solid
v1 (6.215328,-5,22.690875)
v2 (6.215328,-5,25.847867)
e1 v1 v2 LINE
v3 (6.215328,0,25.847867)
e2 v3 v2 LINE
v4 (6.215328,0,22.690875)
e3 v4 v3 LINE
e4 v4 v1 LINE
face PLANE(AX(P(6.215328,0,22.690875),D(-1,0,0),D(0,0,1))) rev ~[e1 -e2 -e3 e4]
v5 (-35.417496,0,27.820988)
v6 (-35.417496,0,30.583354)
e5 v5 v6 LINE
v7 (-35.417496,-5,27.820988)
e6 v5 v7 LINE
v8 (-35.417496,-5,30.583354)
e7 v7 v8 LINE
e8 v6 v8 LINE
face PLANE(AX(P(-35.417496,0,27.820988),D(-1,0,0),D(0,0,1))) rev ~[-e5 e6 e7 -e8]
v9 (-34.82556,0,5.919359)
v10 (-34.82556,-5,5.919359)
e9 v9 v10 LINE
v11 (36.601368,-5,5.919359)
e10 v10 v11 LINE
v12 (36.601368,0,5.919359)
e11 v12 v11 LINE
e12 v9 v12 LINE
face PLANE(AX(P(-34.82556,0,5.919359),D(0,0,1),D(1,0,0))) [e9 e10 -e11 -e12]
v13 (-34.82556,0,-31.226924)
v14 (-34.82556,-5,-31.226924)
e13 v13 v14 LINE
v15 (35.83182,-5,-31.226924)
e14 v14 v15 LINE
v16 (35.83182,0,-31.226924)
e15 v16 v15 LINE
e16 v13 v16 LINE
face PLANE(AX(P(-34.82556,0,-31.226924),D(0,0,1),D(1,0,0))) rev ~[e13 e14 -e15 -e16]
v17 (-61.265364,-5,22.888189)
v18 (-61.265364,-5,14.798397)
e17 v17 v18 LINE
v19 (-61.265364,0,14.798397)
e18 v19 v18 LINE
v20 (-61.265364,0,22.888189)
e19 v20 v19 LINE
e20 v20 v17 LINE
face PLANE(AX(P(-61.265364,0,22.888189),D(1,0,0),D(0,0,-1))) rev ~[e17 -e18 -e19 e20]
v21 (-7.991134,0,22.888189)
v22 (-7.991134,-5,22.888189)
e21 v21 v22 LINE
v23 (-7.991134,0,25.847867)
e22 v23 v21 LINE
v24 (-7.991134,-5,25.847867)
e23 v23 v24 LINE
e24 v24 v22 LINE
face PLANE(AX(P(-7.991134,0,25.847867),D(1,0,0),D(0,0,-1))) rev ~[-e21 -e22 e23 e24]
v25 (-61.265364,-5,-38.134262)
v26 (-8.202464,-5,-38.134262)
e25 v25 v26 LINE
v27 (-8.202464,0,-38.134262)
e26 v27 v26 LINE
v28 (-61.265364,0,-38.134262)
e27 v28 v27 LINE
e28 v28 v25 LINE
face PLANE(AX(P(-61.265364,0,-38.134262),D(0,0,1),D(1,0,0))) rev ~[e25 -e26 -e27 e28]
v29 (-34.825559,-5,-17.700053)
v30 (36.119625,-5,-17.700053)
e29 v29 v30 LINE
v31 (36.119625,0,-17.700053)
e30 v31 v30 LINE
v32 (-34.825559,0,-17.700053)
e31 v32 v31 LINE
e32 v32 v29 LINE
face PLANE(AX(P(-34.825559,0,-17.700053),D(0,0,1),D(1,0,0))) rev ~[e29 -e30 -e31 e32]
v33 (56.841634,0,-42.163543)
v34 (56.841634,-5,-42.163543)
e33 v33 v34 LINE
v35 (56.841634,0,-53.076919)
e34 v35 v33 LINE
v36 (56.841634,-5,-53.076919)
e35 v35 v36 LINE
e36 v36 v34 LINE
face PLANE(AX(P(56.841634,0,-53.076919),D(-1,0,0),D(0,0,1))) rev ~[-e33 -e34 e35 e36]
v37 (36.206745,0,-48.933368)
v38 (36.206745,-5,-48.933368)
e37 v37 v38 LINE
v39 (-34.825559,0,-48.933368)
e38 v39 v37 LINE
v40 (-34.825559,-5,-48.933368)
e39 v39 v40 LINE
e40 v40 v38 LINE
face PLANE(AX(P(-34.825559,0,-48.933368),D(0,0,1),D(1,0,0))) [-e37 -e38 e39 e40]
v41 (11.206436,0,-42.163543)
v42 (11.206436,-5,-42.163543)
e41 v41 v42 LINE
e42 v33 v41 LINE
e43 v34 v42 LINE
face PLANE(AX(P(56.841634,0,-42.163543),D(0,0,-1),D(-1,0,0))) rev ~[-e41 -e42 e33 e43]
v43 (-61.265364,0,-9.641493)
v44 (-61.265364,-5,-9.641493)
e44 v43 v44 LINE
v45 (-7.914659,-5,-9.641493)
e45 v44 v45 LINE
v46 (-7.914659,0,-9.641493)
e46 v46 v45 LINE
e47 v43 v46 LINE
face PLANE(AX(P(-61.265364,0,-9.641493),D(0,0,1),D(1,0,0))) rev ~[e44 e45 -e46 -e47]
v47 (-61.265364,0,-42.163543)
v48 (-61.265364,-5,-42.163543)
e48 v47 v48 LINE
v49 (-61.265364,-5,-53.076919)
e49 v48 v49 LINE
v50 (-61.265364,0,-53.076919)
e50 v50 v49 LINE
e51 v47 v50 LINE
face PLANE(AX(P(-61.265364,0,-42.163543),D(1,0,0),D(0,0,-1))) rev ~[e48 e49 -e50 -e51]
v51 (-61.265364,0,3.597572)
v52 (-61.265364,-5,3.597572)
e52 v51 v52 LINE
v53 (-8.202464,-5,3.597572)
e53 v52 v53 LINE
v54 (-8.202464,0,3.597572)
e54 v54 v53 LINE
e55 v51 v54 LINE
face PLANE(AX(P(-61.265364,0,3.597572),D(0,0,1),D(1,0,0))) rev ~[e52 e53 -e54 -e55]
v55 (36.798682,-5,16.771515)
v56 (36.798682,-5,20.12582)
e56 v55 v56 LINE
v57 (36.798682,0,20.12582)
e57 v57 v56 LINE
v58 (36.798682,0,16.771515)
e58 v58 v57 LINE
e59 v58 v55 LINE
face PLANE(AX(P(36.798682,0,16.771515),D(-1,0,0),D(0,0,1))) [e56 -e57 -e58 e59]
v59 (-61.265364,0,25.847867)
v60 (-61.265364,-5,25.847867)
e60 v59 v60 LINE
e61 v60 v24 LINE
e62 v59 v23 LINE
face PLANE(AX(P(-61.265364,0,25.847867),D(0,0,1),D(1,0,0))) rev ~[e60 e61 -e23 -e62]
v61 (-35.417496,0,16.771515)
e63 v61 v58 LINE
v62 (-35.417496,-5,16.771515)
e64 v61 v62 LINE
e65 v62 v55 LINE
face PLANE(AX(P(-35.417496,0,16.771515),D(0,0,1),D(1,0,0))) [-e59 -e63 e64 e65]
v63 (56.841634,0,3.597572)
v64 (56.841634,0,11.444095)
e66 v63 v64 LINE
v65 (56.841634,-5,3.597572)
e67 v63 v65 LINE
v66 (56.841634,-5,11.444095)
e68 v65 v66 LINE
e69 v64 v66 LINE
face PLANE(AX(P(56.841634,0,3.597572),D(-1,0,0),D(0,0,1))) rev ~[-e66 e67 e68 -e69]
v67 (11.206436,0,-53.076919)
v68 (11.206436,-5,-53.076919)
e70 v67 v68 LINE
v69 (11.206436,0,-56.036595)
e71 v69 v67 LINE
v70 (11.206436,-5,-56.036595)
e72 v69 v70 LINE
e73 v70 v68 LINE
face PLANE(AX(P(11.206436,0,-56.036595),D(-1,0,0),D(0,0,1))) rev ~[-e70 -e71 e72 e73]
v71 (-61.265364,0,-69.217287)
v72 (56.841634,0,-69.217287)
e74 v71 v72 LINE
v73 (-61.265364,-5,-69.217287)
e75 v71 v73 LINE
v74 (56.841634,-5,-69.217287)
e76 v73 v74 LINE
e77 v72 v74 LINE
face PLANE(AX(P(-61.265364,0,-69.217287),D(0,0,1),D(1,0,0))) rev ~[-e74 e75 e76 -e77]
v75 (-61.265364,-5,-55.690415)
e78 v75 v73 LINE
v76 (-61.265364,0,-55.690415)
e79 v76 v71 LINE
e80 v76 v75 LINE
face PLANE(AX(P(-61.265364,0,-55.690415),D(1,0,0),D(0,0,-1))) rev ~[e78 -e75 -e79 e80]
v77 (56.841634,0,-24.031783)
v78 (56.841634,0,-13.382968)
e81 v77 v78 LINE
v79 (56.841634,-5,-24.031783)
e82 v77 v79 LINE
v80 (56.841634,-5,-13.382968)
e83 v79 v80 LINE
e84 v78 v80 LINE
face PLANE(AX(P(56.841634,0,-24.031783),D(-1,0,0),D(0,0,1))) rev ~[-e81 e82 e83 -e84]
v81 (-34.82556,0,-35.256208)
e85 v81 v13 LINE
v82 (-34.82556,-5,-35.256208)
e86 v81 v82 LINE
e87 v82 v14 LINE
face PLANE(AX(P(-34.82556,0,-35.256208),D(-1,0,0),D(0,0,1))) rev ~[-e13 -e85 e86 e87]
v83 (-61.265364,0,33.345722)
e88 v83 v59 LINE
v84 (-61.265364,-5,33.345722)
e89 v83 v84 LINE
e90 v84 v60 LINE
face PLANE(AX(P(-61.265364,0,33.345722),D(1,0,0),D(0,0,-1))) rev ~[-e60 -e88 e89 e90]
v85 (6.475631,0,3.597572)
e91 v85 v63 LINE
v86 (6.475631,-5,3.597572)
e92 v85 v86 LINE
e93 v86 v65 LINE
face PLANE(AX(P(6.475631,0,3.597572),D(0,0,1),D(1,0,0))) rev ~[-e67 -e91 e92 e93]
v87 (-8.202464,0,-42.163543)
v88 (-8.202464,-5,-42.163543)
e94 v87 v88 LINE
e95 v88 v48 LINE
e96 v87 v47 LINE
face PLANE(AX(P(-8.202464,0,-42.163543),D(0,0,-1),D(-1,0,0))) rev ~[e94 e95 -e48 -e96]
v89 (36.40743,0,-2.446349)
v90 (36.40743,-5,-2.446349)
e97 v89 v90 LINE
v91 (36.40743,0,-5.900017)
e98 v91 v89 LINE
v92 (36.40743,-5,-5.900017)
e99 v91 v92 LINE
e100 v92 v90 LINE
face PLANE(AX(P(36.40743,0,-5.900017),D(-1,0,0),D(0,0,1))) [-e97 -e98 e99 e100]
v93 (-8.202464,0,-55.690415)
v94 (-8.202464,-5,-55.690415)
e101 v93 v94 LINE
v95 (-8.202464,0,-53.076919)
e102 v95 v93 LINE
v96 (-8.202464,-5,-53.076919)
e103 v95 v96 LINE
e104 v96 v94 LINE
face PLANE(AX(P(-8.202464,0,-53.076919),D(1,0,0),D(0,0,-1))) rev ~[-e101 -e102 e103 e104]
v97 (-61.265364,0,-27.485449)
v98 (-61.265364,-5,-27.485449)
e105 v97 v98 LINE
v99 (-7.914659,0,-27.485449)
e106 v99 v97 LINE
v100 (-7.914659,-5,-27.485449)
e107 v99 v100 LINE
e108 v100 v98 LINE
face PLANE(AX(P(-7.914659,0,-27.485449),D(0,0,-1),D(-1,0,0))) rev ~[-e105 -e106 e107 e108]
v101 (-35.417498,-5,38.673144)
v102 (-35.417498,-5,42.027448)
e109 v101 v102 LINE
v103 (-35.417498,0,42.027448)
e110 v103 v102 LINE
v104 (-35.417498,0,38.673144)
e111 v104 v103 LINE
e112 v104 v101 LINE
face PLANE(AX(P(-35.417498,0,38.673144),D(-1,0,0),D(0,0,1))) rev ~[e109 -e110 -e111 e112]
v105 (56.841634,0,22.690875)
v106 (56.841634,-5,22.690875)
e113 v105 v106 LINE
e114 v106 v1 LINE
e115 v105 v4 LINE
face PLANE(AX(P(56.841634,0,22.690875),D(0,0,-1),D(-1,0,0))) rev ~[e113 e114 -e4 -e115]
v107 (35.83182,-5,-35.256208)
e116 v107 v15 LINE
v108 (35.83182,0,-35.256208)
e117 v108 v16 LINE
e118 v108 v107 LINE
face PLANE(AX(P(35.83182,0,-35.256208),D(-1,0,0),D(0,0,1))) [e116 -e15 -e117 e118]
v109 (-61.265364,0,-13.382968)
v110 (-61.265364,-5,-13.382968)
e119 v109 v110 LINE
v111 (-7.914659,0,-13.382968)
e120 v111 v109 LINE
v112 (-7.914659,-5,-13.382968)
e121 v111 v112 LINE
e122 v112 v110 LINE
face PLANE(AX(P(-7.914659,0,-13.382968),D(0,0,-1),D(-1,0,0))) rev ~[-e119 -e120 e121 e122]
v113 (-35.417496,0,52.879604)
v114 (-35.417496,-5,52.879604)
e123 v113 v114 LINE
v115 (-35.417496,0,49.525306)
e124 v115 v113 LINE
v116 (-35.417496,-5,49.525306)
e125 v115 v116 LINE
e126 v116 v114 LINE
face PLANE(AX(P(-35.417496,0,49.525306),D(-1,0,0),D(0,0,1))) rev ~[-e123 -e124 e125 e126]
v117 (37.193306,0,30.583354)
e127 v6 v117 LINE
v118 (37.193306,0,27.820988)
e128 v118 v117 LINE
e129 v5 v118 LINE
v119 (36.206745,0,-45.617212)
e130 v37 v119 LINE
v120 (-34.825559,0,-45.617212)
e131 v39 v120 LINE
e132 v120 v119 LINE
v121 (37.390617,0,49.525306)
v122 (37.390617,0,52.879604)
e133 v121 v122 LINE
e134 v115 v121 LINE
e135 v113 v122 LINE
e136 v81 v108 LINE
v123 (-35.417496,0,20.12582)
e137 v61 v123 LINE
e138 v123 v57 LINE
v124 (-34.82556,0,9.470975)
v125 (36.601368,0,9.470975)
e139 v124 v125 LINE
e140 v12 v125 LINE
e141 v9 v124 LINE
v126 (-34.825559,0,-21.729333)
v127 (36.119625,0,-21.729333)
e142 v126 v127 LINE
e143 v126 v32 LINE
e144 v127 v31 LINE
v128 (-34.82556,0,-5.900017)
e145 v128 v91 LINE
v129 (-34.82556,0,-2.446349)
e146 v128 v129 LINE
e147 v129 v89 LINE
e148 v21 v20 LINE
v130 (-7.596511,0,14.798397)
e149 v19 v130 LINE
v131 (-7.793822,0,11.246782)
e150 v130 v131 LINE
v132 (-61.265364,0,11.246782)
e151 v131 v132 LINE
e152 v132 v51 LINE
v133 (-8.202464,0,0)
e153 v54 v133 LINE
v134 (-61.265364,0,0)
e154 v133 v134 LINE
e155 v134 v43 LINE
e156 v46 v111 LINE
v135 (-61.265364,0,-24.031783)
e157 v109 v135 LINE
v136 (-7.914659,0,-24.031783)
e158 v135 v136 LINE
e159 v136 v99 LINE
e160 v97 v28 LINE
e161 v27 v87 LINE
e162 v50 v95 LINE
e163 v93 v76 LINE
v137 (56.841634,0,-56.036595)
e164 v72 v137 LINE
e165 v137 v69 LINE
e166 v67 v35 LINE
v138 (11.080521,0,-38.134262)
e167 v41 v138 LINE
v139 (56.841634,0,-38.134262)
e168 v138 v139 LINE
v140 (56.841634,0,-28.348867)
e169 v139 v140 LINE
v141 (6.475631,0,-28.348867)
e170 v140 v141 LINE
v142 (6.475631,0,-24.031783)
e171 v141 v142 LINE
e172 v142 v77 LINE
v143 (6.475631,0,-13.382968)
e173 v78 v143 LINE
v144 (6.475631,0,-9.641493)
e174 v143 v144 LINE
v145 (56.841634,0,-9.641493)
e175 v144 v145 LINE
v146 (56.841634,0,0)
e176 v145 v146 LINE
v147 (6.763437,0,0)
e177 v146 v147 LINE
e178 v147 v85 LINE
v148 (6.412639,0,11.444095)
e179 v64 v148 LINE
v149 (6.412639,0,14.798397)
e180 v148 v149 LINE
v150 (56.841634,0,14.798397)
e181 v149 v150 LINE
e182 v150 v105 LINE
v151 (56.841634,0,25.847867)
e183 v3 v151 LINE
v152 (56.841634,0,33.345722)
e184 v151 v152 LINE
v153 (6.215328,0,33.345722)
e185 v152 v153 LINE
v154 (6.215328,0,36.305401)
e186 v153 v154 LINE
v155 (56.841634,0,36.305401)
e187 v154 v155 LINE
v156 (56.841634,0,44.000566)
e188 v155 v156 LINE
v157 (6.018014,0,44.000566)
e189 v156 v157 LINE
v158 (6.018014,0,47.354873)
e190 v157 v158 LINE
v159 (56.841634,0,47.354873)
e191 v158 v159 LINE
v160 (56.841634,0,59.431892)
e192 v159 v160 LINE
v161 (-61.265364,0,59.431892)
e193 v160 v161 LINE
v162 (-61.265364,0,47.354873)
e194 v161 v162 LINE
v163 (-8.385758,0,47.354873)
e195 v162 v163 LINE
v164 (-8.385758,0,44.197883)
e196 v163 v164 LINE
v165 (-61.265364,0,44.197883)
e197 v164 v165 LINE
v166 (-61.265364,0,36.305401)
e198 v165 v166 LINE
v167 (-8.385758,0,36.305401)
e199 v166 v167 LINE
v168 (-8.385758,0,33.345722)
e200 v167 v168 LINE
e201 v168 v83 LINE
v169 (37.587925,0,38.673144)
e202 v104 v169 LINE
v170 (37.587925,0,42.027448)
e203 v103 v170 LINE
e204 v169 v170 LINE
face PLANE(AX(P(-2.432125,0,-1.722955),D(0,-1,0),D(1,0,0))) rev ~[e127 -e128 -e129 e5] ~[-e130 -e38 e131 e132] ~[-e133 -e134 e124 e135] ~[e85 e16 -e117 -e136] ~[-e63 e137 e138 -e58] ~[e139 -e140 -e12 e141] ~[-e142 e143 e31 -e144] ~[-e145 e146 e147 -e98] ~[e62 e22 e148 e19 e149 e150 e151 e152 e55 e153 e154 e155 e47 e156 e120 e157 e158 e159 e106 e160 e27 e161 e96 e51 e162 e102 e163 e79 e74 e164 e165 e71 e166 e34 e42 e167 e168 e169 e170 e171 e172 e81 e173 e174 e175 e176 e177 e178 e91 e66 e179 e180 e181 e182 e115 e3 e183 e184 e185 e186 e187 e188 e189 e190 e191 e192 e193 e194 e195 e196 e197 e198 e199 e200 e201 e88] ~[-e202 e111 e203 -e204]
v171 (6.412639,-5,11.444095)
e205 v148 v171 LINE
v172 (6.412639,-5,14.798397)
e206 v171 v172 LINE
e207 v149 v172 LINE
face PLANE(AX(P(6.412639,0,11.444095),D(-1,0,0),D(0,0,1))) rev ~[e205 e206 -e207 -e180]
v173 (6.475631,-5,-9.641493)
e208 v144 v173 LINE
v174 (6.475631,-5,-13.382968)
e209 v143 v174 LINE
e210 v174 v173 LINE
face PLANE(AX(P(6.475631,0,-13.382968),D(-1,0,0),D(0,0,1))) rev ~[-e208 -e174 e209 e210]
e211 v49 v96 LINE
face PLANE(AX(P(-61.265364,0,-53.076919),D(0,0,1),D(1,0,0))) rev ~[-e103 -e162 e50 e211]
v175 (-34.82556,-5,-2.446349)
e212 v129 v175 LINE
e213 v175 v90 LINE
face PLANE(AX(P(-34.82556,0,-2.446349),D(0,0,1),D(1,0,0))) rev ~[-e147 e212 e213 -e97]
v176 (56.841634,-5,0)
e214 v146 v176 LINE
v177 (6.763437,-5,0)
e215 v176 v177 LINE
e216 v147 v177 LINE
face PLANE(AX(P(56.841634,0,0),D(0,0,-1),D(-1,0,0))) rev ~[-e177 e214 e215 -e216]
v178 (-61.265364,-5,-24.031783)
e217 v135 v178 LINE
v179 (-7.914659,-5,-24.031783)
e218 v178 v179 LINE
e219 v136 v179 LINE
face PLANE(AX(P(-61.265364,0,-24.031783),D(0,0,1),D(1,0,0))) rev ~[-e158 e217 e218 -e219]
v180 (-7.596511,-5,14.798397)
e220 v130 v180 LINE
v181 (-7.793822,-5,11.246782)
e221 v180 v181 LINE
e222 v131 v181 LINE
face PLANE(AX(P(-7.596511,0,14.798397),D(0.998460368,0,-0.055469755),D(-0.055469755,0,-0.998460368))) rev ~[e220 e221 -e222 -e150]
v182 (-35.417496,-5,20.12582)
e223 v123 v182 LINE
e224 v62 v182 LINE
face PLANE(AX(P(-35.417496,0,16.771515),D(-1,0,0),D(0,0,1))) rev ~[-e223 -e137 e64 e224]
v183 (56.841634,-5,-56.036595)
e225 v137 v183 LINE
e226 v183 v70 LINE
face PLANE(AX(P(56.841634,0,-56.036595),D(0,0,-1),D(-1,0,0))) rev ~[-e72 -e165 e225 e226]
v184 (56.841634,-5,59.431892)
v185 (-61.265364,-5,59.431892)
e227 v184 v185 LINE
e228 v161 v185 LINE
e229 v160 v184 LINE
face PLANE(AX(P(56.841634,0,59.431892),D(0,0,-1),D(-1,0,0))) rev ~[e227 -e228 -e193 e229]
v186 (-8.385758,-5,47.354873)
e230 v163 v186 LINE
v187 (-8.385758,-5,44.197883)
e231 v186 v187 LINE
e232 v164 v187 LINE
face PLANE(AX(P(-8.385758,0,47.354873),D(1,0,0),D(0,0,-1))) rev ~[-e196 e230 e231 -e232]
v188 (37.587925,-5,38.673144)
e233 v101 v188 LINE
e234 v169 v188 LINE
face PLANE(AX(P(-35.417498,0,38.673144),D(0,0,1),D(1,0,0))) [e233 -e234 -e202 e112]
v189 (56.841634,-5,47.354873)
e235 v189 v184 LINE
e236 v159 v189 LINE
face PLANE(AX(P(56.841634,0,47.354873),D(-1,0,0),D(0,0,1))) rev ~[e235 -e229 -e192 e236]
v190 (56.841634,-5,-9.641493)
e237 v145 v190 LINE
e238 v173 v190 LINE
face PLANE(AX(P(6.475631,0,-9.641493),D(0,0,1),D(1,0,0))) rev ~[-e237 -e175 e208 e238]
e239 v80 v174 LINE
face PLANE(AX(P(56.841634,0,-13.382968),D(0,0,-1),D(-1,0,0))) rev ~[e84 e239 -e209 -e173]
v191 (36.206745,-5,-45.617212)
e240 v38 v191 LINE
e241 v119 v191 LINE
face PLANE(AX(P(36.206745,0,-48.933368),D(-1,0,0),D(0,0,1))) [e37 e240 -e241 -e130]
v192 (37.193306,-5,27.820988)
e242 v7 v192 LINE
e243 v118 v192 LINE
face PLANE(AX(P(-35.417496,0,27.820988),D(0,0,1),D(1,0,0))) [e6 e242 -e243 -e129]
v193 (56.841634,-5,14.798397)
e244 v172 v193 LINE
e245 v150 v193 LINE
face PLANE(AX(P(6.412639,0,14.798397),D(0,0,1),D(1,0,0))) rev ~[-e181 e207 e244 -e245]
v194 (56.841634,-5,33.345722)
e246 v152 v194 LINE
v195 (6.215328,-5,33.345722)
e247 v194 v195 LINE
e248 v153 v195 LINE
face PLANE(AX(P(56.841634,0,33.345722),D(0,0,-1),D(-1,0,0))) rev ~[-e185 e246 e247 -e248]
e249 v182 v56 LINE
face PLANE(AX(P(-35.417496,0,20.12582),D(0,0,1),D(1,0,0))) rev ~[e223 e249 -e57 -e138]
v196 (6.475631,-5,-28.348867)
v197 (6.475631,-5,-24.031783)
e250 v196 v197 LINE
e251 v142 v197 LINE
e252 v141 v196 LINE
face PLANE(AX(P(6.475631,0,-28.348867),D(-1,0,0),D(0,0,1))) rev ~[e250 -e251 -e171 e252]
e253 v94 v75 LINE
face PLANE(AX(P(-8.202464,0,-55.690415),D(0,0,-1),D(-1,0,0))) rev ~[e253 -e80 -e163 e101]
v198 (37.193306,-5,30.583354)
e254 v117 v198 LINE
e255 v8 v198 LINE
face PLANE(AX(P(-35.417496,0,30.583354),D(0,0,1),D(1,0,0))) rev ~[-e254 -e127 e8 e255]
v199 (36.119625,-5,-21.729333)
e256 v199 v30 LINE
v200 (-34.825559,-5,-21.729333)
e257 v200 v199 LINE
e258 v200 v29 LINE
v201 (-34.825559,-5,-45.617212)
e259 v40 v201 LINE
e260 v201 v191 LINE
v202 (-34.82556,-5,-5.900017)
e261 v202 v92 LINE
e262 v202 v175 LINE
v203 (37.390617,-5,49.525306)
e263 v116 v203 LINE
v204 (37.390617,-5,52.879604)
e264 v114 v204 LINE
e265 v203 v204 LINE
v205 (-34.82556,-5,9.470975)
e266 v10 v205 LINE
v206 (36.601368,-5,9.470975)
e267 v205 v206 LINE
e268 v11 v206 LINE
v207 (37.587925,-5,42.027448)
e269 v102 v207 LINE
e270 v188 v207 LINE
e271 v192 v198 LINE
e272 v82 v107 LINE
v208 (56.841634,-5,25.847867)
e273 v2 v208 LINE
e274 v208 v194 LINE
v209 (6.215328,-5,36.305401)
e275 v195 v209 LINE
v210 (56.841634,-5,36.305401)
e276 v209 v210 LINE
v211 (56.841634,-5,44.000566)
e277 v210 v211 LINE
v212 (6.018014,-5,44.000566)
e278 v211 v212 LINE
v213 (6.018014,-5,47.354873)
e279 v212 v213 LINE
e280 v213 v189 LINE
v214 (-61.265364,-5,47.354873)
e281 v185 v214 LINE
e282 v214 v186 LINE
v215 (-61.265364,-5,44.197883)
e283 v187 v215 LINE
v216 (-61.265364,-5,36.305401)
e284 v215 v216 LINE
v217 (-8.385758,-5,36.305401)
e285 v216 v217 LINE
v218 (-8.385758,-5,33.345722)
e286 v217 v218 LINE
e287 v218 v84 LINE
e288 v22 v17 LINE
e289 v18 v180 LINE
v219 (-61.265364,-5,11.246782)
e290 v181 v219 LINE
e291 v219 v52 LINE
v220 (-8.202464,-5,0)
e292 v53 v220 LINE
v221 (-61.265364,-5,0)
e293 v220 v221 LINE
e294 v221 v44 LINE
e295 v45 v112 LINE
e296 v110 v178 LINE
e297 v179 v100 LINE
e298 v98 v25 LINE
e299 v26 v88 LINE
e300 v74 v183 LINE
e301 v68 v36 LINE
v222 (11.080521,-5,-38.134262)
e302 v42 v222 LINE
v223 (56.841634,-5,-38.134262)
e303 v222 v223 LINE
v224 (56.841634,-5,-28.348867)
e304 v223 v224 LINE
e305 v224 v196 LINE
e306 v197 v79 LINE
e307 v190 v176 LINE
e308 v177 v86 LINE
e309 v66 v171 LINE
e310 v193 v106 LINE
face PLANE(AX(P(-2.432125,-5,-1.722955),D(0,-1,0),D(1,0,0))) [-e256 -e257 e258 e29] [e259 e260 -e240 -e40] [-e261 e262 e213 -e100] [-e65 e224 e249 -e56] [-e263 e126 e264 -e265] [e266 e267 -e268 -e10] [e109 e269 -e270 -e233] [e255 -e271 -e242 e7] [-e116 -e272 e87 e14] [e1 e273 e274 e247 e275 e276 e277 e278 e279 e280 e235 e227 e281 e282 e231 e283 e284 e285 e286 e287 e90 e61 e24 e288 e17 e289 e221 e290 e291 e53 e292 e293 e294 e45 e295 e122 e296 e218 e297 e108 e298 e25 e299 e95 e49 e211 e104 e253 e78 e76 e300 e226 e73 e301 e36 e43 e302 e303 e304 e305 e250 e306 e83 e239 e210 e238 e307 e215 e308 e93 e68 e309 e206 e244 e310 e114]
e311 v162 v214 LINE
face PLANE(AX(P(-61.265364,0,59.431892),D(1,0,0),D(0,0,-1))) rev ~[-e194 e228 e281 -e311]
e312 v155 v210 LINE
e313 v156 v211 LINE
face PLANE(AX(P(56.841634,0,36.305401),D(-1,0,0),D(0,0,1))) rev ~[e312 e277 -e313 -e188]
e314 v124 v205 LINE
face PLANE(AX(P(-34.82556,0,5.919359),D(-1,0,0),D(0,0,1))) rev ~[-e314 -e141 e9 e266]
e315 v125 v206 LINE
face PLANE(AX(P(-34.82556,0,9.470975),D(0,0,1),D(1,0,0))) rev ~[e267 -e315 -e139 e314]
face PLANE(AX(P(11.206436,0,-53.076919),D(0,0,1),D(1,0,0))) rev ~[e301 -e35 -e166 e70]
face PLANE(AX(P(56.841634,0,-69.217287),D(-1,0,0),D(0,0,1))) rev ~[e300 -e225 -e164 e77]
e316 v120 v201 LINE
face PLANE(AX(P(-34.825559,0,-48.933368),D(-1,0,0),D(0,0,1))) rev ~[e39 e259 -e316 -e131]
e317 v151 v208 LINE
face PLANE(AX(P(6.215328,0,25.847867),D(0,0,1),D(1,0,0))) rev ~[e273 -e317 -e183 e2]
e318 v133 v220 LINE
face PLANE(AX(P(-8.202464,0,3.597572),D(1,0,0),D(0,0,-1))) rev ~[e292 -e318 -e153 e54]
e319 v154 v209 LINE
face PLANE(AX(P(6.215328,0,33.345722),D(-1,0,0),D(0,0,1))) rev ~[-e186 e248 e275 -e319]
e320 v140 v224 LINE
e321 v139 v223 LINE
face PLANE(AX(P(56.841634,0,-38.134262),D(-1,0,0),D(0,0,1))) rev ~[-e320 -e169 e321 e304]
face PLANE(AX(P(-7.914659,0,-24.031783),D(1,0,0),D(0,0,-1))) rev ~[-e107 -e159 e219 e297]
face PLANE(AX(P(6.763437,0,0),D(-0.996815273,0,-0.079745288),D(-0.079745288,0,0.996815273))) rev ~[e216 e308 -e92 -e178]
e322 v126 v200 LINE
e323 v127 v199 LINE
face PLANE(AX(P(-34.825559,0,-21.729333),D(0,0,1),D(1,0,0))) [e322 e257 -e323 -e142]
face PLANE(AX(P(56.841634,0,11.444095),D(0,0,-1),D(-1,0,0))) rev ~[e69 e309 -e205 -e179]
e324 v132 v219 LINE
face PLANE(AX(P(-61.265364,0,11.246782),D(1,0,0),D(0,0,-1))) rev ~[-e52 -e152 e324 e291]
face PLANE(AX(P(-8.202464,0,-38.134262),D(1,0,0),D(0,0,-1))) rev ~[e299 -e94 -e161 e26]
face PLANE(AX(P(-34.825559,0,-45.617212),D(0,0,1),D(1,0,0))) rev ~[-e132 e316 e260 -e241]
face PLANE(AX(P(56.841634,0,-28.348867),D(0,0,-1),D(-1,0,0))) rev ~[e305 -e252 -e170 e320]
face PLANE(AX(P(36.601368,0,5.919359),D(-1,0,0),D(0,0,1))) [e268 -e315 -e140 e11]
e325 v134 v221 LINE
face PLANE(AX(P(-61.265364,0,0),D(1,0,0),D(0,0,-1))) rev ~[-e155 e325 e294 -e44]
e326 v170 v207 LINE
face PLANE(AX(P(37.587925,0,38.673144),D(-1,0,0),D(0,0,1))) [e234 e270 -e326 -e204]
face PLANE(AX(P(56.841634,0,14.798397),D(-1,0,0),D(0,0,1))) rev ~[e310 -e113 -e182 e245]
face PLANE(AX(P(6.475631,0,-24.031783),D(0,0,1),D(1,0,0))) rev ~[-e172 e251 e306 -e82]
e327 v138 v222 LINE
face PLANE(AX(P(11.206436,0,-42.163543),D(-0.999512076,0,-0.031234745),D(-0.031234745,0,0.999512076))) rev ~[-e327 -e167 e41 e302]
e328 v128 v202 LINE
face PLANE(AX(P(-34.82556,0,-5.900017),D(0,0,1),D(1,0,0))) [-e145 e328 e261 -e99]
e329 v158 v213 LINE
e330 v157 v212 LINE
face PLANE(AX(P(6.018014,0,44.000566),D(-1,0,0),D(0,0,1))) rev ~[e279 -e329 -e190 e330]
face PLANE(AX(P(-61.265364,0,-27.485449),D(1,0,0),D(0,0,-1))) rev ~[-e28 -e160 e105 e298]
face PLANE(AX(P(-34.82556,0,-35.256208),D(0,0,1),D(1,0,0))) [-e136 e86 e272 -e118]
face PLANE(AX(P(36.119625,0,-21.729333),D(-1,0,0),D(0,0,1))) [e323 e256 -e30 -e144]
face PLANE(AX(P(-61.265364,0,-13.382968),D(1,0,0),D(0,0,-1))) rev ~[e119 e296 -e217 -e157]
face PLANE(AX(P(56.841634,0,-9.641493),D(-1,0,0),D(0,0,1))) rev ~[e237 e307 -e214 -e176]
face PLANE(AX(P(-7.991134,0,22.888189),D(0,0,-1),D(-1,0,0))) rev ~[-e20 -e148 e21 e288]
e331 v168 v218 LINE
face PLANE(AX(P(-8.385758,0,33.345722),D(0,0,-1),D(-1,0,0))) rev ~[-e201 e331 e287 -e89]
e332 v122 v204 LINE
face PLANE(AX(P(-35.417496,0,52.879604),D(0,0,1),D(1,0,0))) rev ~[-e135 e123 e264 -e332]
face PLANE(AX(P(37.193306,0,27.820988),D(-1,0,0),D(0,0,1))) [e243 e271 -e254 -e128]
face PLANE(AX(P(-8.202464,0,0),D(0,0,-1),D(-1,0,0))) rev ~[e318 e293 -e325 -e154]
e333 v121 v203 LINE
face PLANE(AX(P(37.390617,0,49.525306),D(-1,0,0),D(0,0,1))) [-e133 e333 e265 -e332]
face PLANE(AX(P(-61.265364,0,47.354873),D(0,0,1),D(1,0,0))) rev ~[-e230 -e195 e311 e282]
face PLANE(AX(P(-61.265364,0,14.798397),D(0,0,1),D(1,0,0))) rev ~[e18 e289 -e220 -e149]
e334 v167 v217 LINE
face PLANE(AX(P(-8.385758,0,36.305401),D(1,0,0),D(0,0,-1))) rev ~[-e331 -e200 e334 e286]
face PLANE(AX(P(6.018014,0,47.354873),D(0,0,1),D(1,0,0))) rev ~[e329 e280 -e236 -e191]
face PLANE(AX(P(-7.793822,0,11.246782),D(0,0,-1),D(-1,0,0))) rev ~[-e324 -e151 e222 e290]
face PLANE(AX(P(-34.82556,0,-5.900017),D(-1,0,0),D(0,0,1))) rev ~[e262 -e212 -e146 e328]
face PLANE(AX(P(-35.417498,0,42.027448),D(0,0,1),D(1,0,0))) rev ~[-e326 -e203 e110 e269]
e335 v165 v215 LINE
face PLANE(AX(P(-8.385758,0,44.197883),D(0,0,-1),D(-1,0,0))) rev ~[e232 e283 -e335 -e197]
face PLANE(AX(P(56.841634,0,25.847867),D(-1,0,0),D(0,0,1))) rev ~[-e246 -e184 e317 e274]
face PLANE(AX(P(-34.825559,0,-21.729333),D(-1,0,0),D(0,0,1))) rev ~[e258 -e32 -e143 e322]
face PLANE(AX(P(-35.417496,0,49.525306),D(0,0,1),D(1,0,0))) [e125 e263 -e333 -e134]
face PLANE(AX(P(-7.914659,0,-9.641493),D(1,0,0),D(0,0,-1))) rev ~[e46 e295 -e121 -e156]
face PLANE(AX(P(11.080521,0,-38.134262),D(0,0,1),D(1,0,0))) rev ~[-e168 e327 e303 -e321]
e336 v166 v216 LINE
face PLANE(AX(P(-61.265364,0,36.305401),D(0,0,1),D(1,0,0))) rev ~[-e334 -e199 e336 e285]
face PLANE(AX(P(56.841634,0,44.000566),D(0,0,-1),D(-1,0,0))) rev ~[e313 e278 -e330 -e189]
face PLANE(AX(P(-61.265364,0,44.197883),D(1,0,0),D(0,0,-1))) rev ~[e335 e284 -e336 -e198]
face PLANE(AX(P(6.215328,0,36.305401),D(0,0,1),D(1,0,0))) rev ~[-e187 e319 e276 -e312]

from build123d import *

# Parameters (mm, degrees)
F0_W     = 71.032305
F0_H     = 3.316156
F0_W_2   = 70.65738
F0_H_2   = 4.029283
F0_W_3   = 70.945185
F0_H_3   = 4.029279
F0_W_4   = 71.23299
F0_H_4   = 3.453669
F0_W_5   = 71.426928
F0_H_5   = 3.551615
F0_W_6   = 72.216179
F0_H_6   = 3.354305
F0_W_7   = 72.610803
F0_H_7   = 2.762366
F0_W_8   = 73.005423
F0_H_8   = 3.354303
F0_W_9   = 72.808113
F0_H_9   = 3.354299
F1_DEPTH = 5


with BuildPart() as f1:
    # F0 (on Front) → F1 (new body)
    with BuildSketch(Plane.XZ):
        Polygon((56.841634, 59.431892), (-61.265364, 59.431892), (-61.265364, 47.354873), (-8.385758, 47.354873), (-8.385758, 44.197883), (-61.265364, 44.197883), (-61.265364, 36.305401), (-8.385758, 36.305401), (-8.385758, 33.345722), (-61.265364, 33.345722), (-61.265364, 25.847867), (-7.991134, 25.847867), (-7.991134, 22.888189), (-61.265364, 22.888189), (-61.265364, 14.798397), (-7.596511, 14.798397), (-7.793822, 11.246782), (-61.265364, 11.246782), (-61.265364, 3.597572), (-8.202464, 3.597572), (-8.202464, 0), (-61.265364, 0), (-61.265364, -9.641493), (-7.914659, -9.641493), (-7.914659, -13.382968), (-61.265364, -13.382968), (-61.265364, -24.031783), (-7.914659, -24.031783), (-7.914659, -27.485449), (-61.265364, -27.485449), (-61.265364, -38.134262), (-8.202464, -38.134262), (-8.202464, -42.163543), (-61.265364, -42.163543), (-61.265364, -53.076919), (-8.202464, -53.076919), (-8.202464, -55.690415), (-61.265364, -55.690415), (-61.265364, -69.217287), (56.841634, -69.217287), (56.841634, -56.036595), (11.206436, -56.036595), (11.206436, -53.076919), (56.841634, -53.076919), (56.841634, -42.163543), (11.206436, -42.163543), (11.080521, -38.134262), (56.841634, -38.134262), (56.841634, -28.348867), (6.475631, -28.348867), (6.475631, -24.031783), (56.841634, -24.031783), (56.841634, -13.382968), (6.475631, -13.382968), (6.475631, -9.641493), (56.841634, -9.641493), (56.841634, 0), (6.763437, 0), (6.475631, 3.597572), (56.841634, 3.597572), (56.841634, 11.444095), (6.412639, 11.444095), (6.412639, 14.798397), (56.841634, 14.798397), (56.841634, 22.690875), (6.215328, 22.690875), (6.215328, 25.847867), (56.841634, 25.847867), (56.841634, 33.345722), (6.215328, 33.345722), (6.215328, 36.305401), (56.841634, 36.305401), (56.841634, 44.000566), (6.018014, 44.000566), (6.018014, 47.354873), (56.841634, 47.354873), align=None)
        with Locations((0.690593, -47.27529)):
            Rectangle(F0_W, F0_H, mode=Mode.SUBTRACT)
        with Locations((0.50313, -33.241566)):
            Rectangle(F0_W_2, F0_H_2, mode=Mode.SUBTRACT)
        with Locations((0.647033, -19.714693)):
            Rectangle(F0_W_3, F0_H_3, mode=Mode.SUBTRACT)
        with Locations((0.790935, -4.173183)):
            Rectangle(F0_W_4, F0_H_4, mode=Mode.SUBTRACT)
        with Locations((0.887904, 7.695167)):
            Rectangle(F0_W_5, F0_H_5, mode=Mode.SUBTRACT)
        with Locations((0.690593, 18.448668)):
            Rectangle(F0_W_6, F0_H_6, mode=Mode.SUBTRACT)
        with Locations((0.887905, 29.202171)):
            Rectangle(F0_W_7, F0_H_7, mode=Mode.SUBTRACT)
        with Locations((1.085214, 40.350296)):
            Rectangle(F0_W_8, F0_H_8, mode=Mode.SUBTRACT)
        with Locations((0.98656, 51.202455)):
            Rectangle(F0_W_9, F0_H_9, mode=Mode.SUBTRACT)
    extrude(amount=F1_DEPTH)


solid = f1.part
